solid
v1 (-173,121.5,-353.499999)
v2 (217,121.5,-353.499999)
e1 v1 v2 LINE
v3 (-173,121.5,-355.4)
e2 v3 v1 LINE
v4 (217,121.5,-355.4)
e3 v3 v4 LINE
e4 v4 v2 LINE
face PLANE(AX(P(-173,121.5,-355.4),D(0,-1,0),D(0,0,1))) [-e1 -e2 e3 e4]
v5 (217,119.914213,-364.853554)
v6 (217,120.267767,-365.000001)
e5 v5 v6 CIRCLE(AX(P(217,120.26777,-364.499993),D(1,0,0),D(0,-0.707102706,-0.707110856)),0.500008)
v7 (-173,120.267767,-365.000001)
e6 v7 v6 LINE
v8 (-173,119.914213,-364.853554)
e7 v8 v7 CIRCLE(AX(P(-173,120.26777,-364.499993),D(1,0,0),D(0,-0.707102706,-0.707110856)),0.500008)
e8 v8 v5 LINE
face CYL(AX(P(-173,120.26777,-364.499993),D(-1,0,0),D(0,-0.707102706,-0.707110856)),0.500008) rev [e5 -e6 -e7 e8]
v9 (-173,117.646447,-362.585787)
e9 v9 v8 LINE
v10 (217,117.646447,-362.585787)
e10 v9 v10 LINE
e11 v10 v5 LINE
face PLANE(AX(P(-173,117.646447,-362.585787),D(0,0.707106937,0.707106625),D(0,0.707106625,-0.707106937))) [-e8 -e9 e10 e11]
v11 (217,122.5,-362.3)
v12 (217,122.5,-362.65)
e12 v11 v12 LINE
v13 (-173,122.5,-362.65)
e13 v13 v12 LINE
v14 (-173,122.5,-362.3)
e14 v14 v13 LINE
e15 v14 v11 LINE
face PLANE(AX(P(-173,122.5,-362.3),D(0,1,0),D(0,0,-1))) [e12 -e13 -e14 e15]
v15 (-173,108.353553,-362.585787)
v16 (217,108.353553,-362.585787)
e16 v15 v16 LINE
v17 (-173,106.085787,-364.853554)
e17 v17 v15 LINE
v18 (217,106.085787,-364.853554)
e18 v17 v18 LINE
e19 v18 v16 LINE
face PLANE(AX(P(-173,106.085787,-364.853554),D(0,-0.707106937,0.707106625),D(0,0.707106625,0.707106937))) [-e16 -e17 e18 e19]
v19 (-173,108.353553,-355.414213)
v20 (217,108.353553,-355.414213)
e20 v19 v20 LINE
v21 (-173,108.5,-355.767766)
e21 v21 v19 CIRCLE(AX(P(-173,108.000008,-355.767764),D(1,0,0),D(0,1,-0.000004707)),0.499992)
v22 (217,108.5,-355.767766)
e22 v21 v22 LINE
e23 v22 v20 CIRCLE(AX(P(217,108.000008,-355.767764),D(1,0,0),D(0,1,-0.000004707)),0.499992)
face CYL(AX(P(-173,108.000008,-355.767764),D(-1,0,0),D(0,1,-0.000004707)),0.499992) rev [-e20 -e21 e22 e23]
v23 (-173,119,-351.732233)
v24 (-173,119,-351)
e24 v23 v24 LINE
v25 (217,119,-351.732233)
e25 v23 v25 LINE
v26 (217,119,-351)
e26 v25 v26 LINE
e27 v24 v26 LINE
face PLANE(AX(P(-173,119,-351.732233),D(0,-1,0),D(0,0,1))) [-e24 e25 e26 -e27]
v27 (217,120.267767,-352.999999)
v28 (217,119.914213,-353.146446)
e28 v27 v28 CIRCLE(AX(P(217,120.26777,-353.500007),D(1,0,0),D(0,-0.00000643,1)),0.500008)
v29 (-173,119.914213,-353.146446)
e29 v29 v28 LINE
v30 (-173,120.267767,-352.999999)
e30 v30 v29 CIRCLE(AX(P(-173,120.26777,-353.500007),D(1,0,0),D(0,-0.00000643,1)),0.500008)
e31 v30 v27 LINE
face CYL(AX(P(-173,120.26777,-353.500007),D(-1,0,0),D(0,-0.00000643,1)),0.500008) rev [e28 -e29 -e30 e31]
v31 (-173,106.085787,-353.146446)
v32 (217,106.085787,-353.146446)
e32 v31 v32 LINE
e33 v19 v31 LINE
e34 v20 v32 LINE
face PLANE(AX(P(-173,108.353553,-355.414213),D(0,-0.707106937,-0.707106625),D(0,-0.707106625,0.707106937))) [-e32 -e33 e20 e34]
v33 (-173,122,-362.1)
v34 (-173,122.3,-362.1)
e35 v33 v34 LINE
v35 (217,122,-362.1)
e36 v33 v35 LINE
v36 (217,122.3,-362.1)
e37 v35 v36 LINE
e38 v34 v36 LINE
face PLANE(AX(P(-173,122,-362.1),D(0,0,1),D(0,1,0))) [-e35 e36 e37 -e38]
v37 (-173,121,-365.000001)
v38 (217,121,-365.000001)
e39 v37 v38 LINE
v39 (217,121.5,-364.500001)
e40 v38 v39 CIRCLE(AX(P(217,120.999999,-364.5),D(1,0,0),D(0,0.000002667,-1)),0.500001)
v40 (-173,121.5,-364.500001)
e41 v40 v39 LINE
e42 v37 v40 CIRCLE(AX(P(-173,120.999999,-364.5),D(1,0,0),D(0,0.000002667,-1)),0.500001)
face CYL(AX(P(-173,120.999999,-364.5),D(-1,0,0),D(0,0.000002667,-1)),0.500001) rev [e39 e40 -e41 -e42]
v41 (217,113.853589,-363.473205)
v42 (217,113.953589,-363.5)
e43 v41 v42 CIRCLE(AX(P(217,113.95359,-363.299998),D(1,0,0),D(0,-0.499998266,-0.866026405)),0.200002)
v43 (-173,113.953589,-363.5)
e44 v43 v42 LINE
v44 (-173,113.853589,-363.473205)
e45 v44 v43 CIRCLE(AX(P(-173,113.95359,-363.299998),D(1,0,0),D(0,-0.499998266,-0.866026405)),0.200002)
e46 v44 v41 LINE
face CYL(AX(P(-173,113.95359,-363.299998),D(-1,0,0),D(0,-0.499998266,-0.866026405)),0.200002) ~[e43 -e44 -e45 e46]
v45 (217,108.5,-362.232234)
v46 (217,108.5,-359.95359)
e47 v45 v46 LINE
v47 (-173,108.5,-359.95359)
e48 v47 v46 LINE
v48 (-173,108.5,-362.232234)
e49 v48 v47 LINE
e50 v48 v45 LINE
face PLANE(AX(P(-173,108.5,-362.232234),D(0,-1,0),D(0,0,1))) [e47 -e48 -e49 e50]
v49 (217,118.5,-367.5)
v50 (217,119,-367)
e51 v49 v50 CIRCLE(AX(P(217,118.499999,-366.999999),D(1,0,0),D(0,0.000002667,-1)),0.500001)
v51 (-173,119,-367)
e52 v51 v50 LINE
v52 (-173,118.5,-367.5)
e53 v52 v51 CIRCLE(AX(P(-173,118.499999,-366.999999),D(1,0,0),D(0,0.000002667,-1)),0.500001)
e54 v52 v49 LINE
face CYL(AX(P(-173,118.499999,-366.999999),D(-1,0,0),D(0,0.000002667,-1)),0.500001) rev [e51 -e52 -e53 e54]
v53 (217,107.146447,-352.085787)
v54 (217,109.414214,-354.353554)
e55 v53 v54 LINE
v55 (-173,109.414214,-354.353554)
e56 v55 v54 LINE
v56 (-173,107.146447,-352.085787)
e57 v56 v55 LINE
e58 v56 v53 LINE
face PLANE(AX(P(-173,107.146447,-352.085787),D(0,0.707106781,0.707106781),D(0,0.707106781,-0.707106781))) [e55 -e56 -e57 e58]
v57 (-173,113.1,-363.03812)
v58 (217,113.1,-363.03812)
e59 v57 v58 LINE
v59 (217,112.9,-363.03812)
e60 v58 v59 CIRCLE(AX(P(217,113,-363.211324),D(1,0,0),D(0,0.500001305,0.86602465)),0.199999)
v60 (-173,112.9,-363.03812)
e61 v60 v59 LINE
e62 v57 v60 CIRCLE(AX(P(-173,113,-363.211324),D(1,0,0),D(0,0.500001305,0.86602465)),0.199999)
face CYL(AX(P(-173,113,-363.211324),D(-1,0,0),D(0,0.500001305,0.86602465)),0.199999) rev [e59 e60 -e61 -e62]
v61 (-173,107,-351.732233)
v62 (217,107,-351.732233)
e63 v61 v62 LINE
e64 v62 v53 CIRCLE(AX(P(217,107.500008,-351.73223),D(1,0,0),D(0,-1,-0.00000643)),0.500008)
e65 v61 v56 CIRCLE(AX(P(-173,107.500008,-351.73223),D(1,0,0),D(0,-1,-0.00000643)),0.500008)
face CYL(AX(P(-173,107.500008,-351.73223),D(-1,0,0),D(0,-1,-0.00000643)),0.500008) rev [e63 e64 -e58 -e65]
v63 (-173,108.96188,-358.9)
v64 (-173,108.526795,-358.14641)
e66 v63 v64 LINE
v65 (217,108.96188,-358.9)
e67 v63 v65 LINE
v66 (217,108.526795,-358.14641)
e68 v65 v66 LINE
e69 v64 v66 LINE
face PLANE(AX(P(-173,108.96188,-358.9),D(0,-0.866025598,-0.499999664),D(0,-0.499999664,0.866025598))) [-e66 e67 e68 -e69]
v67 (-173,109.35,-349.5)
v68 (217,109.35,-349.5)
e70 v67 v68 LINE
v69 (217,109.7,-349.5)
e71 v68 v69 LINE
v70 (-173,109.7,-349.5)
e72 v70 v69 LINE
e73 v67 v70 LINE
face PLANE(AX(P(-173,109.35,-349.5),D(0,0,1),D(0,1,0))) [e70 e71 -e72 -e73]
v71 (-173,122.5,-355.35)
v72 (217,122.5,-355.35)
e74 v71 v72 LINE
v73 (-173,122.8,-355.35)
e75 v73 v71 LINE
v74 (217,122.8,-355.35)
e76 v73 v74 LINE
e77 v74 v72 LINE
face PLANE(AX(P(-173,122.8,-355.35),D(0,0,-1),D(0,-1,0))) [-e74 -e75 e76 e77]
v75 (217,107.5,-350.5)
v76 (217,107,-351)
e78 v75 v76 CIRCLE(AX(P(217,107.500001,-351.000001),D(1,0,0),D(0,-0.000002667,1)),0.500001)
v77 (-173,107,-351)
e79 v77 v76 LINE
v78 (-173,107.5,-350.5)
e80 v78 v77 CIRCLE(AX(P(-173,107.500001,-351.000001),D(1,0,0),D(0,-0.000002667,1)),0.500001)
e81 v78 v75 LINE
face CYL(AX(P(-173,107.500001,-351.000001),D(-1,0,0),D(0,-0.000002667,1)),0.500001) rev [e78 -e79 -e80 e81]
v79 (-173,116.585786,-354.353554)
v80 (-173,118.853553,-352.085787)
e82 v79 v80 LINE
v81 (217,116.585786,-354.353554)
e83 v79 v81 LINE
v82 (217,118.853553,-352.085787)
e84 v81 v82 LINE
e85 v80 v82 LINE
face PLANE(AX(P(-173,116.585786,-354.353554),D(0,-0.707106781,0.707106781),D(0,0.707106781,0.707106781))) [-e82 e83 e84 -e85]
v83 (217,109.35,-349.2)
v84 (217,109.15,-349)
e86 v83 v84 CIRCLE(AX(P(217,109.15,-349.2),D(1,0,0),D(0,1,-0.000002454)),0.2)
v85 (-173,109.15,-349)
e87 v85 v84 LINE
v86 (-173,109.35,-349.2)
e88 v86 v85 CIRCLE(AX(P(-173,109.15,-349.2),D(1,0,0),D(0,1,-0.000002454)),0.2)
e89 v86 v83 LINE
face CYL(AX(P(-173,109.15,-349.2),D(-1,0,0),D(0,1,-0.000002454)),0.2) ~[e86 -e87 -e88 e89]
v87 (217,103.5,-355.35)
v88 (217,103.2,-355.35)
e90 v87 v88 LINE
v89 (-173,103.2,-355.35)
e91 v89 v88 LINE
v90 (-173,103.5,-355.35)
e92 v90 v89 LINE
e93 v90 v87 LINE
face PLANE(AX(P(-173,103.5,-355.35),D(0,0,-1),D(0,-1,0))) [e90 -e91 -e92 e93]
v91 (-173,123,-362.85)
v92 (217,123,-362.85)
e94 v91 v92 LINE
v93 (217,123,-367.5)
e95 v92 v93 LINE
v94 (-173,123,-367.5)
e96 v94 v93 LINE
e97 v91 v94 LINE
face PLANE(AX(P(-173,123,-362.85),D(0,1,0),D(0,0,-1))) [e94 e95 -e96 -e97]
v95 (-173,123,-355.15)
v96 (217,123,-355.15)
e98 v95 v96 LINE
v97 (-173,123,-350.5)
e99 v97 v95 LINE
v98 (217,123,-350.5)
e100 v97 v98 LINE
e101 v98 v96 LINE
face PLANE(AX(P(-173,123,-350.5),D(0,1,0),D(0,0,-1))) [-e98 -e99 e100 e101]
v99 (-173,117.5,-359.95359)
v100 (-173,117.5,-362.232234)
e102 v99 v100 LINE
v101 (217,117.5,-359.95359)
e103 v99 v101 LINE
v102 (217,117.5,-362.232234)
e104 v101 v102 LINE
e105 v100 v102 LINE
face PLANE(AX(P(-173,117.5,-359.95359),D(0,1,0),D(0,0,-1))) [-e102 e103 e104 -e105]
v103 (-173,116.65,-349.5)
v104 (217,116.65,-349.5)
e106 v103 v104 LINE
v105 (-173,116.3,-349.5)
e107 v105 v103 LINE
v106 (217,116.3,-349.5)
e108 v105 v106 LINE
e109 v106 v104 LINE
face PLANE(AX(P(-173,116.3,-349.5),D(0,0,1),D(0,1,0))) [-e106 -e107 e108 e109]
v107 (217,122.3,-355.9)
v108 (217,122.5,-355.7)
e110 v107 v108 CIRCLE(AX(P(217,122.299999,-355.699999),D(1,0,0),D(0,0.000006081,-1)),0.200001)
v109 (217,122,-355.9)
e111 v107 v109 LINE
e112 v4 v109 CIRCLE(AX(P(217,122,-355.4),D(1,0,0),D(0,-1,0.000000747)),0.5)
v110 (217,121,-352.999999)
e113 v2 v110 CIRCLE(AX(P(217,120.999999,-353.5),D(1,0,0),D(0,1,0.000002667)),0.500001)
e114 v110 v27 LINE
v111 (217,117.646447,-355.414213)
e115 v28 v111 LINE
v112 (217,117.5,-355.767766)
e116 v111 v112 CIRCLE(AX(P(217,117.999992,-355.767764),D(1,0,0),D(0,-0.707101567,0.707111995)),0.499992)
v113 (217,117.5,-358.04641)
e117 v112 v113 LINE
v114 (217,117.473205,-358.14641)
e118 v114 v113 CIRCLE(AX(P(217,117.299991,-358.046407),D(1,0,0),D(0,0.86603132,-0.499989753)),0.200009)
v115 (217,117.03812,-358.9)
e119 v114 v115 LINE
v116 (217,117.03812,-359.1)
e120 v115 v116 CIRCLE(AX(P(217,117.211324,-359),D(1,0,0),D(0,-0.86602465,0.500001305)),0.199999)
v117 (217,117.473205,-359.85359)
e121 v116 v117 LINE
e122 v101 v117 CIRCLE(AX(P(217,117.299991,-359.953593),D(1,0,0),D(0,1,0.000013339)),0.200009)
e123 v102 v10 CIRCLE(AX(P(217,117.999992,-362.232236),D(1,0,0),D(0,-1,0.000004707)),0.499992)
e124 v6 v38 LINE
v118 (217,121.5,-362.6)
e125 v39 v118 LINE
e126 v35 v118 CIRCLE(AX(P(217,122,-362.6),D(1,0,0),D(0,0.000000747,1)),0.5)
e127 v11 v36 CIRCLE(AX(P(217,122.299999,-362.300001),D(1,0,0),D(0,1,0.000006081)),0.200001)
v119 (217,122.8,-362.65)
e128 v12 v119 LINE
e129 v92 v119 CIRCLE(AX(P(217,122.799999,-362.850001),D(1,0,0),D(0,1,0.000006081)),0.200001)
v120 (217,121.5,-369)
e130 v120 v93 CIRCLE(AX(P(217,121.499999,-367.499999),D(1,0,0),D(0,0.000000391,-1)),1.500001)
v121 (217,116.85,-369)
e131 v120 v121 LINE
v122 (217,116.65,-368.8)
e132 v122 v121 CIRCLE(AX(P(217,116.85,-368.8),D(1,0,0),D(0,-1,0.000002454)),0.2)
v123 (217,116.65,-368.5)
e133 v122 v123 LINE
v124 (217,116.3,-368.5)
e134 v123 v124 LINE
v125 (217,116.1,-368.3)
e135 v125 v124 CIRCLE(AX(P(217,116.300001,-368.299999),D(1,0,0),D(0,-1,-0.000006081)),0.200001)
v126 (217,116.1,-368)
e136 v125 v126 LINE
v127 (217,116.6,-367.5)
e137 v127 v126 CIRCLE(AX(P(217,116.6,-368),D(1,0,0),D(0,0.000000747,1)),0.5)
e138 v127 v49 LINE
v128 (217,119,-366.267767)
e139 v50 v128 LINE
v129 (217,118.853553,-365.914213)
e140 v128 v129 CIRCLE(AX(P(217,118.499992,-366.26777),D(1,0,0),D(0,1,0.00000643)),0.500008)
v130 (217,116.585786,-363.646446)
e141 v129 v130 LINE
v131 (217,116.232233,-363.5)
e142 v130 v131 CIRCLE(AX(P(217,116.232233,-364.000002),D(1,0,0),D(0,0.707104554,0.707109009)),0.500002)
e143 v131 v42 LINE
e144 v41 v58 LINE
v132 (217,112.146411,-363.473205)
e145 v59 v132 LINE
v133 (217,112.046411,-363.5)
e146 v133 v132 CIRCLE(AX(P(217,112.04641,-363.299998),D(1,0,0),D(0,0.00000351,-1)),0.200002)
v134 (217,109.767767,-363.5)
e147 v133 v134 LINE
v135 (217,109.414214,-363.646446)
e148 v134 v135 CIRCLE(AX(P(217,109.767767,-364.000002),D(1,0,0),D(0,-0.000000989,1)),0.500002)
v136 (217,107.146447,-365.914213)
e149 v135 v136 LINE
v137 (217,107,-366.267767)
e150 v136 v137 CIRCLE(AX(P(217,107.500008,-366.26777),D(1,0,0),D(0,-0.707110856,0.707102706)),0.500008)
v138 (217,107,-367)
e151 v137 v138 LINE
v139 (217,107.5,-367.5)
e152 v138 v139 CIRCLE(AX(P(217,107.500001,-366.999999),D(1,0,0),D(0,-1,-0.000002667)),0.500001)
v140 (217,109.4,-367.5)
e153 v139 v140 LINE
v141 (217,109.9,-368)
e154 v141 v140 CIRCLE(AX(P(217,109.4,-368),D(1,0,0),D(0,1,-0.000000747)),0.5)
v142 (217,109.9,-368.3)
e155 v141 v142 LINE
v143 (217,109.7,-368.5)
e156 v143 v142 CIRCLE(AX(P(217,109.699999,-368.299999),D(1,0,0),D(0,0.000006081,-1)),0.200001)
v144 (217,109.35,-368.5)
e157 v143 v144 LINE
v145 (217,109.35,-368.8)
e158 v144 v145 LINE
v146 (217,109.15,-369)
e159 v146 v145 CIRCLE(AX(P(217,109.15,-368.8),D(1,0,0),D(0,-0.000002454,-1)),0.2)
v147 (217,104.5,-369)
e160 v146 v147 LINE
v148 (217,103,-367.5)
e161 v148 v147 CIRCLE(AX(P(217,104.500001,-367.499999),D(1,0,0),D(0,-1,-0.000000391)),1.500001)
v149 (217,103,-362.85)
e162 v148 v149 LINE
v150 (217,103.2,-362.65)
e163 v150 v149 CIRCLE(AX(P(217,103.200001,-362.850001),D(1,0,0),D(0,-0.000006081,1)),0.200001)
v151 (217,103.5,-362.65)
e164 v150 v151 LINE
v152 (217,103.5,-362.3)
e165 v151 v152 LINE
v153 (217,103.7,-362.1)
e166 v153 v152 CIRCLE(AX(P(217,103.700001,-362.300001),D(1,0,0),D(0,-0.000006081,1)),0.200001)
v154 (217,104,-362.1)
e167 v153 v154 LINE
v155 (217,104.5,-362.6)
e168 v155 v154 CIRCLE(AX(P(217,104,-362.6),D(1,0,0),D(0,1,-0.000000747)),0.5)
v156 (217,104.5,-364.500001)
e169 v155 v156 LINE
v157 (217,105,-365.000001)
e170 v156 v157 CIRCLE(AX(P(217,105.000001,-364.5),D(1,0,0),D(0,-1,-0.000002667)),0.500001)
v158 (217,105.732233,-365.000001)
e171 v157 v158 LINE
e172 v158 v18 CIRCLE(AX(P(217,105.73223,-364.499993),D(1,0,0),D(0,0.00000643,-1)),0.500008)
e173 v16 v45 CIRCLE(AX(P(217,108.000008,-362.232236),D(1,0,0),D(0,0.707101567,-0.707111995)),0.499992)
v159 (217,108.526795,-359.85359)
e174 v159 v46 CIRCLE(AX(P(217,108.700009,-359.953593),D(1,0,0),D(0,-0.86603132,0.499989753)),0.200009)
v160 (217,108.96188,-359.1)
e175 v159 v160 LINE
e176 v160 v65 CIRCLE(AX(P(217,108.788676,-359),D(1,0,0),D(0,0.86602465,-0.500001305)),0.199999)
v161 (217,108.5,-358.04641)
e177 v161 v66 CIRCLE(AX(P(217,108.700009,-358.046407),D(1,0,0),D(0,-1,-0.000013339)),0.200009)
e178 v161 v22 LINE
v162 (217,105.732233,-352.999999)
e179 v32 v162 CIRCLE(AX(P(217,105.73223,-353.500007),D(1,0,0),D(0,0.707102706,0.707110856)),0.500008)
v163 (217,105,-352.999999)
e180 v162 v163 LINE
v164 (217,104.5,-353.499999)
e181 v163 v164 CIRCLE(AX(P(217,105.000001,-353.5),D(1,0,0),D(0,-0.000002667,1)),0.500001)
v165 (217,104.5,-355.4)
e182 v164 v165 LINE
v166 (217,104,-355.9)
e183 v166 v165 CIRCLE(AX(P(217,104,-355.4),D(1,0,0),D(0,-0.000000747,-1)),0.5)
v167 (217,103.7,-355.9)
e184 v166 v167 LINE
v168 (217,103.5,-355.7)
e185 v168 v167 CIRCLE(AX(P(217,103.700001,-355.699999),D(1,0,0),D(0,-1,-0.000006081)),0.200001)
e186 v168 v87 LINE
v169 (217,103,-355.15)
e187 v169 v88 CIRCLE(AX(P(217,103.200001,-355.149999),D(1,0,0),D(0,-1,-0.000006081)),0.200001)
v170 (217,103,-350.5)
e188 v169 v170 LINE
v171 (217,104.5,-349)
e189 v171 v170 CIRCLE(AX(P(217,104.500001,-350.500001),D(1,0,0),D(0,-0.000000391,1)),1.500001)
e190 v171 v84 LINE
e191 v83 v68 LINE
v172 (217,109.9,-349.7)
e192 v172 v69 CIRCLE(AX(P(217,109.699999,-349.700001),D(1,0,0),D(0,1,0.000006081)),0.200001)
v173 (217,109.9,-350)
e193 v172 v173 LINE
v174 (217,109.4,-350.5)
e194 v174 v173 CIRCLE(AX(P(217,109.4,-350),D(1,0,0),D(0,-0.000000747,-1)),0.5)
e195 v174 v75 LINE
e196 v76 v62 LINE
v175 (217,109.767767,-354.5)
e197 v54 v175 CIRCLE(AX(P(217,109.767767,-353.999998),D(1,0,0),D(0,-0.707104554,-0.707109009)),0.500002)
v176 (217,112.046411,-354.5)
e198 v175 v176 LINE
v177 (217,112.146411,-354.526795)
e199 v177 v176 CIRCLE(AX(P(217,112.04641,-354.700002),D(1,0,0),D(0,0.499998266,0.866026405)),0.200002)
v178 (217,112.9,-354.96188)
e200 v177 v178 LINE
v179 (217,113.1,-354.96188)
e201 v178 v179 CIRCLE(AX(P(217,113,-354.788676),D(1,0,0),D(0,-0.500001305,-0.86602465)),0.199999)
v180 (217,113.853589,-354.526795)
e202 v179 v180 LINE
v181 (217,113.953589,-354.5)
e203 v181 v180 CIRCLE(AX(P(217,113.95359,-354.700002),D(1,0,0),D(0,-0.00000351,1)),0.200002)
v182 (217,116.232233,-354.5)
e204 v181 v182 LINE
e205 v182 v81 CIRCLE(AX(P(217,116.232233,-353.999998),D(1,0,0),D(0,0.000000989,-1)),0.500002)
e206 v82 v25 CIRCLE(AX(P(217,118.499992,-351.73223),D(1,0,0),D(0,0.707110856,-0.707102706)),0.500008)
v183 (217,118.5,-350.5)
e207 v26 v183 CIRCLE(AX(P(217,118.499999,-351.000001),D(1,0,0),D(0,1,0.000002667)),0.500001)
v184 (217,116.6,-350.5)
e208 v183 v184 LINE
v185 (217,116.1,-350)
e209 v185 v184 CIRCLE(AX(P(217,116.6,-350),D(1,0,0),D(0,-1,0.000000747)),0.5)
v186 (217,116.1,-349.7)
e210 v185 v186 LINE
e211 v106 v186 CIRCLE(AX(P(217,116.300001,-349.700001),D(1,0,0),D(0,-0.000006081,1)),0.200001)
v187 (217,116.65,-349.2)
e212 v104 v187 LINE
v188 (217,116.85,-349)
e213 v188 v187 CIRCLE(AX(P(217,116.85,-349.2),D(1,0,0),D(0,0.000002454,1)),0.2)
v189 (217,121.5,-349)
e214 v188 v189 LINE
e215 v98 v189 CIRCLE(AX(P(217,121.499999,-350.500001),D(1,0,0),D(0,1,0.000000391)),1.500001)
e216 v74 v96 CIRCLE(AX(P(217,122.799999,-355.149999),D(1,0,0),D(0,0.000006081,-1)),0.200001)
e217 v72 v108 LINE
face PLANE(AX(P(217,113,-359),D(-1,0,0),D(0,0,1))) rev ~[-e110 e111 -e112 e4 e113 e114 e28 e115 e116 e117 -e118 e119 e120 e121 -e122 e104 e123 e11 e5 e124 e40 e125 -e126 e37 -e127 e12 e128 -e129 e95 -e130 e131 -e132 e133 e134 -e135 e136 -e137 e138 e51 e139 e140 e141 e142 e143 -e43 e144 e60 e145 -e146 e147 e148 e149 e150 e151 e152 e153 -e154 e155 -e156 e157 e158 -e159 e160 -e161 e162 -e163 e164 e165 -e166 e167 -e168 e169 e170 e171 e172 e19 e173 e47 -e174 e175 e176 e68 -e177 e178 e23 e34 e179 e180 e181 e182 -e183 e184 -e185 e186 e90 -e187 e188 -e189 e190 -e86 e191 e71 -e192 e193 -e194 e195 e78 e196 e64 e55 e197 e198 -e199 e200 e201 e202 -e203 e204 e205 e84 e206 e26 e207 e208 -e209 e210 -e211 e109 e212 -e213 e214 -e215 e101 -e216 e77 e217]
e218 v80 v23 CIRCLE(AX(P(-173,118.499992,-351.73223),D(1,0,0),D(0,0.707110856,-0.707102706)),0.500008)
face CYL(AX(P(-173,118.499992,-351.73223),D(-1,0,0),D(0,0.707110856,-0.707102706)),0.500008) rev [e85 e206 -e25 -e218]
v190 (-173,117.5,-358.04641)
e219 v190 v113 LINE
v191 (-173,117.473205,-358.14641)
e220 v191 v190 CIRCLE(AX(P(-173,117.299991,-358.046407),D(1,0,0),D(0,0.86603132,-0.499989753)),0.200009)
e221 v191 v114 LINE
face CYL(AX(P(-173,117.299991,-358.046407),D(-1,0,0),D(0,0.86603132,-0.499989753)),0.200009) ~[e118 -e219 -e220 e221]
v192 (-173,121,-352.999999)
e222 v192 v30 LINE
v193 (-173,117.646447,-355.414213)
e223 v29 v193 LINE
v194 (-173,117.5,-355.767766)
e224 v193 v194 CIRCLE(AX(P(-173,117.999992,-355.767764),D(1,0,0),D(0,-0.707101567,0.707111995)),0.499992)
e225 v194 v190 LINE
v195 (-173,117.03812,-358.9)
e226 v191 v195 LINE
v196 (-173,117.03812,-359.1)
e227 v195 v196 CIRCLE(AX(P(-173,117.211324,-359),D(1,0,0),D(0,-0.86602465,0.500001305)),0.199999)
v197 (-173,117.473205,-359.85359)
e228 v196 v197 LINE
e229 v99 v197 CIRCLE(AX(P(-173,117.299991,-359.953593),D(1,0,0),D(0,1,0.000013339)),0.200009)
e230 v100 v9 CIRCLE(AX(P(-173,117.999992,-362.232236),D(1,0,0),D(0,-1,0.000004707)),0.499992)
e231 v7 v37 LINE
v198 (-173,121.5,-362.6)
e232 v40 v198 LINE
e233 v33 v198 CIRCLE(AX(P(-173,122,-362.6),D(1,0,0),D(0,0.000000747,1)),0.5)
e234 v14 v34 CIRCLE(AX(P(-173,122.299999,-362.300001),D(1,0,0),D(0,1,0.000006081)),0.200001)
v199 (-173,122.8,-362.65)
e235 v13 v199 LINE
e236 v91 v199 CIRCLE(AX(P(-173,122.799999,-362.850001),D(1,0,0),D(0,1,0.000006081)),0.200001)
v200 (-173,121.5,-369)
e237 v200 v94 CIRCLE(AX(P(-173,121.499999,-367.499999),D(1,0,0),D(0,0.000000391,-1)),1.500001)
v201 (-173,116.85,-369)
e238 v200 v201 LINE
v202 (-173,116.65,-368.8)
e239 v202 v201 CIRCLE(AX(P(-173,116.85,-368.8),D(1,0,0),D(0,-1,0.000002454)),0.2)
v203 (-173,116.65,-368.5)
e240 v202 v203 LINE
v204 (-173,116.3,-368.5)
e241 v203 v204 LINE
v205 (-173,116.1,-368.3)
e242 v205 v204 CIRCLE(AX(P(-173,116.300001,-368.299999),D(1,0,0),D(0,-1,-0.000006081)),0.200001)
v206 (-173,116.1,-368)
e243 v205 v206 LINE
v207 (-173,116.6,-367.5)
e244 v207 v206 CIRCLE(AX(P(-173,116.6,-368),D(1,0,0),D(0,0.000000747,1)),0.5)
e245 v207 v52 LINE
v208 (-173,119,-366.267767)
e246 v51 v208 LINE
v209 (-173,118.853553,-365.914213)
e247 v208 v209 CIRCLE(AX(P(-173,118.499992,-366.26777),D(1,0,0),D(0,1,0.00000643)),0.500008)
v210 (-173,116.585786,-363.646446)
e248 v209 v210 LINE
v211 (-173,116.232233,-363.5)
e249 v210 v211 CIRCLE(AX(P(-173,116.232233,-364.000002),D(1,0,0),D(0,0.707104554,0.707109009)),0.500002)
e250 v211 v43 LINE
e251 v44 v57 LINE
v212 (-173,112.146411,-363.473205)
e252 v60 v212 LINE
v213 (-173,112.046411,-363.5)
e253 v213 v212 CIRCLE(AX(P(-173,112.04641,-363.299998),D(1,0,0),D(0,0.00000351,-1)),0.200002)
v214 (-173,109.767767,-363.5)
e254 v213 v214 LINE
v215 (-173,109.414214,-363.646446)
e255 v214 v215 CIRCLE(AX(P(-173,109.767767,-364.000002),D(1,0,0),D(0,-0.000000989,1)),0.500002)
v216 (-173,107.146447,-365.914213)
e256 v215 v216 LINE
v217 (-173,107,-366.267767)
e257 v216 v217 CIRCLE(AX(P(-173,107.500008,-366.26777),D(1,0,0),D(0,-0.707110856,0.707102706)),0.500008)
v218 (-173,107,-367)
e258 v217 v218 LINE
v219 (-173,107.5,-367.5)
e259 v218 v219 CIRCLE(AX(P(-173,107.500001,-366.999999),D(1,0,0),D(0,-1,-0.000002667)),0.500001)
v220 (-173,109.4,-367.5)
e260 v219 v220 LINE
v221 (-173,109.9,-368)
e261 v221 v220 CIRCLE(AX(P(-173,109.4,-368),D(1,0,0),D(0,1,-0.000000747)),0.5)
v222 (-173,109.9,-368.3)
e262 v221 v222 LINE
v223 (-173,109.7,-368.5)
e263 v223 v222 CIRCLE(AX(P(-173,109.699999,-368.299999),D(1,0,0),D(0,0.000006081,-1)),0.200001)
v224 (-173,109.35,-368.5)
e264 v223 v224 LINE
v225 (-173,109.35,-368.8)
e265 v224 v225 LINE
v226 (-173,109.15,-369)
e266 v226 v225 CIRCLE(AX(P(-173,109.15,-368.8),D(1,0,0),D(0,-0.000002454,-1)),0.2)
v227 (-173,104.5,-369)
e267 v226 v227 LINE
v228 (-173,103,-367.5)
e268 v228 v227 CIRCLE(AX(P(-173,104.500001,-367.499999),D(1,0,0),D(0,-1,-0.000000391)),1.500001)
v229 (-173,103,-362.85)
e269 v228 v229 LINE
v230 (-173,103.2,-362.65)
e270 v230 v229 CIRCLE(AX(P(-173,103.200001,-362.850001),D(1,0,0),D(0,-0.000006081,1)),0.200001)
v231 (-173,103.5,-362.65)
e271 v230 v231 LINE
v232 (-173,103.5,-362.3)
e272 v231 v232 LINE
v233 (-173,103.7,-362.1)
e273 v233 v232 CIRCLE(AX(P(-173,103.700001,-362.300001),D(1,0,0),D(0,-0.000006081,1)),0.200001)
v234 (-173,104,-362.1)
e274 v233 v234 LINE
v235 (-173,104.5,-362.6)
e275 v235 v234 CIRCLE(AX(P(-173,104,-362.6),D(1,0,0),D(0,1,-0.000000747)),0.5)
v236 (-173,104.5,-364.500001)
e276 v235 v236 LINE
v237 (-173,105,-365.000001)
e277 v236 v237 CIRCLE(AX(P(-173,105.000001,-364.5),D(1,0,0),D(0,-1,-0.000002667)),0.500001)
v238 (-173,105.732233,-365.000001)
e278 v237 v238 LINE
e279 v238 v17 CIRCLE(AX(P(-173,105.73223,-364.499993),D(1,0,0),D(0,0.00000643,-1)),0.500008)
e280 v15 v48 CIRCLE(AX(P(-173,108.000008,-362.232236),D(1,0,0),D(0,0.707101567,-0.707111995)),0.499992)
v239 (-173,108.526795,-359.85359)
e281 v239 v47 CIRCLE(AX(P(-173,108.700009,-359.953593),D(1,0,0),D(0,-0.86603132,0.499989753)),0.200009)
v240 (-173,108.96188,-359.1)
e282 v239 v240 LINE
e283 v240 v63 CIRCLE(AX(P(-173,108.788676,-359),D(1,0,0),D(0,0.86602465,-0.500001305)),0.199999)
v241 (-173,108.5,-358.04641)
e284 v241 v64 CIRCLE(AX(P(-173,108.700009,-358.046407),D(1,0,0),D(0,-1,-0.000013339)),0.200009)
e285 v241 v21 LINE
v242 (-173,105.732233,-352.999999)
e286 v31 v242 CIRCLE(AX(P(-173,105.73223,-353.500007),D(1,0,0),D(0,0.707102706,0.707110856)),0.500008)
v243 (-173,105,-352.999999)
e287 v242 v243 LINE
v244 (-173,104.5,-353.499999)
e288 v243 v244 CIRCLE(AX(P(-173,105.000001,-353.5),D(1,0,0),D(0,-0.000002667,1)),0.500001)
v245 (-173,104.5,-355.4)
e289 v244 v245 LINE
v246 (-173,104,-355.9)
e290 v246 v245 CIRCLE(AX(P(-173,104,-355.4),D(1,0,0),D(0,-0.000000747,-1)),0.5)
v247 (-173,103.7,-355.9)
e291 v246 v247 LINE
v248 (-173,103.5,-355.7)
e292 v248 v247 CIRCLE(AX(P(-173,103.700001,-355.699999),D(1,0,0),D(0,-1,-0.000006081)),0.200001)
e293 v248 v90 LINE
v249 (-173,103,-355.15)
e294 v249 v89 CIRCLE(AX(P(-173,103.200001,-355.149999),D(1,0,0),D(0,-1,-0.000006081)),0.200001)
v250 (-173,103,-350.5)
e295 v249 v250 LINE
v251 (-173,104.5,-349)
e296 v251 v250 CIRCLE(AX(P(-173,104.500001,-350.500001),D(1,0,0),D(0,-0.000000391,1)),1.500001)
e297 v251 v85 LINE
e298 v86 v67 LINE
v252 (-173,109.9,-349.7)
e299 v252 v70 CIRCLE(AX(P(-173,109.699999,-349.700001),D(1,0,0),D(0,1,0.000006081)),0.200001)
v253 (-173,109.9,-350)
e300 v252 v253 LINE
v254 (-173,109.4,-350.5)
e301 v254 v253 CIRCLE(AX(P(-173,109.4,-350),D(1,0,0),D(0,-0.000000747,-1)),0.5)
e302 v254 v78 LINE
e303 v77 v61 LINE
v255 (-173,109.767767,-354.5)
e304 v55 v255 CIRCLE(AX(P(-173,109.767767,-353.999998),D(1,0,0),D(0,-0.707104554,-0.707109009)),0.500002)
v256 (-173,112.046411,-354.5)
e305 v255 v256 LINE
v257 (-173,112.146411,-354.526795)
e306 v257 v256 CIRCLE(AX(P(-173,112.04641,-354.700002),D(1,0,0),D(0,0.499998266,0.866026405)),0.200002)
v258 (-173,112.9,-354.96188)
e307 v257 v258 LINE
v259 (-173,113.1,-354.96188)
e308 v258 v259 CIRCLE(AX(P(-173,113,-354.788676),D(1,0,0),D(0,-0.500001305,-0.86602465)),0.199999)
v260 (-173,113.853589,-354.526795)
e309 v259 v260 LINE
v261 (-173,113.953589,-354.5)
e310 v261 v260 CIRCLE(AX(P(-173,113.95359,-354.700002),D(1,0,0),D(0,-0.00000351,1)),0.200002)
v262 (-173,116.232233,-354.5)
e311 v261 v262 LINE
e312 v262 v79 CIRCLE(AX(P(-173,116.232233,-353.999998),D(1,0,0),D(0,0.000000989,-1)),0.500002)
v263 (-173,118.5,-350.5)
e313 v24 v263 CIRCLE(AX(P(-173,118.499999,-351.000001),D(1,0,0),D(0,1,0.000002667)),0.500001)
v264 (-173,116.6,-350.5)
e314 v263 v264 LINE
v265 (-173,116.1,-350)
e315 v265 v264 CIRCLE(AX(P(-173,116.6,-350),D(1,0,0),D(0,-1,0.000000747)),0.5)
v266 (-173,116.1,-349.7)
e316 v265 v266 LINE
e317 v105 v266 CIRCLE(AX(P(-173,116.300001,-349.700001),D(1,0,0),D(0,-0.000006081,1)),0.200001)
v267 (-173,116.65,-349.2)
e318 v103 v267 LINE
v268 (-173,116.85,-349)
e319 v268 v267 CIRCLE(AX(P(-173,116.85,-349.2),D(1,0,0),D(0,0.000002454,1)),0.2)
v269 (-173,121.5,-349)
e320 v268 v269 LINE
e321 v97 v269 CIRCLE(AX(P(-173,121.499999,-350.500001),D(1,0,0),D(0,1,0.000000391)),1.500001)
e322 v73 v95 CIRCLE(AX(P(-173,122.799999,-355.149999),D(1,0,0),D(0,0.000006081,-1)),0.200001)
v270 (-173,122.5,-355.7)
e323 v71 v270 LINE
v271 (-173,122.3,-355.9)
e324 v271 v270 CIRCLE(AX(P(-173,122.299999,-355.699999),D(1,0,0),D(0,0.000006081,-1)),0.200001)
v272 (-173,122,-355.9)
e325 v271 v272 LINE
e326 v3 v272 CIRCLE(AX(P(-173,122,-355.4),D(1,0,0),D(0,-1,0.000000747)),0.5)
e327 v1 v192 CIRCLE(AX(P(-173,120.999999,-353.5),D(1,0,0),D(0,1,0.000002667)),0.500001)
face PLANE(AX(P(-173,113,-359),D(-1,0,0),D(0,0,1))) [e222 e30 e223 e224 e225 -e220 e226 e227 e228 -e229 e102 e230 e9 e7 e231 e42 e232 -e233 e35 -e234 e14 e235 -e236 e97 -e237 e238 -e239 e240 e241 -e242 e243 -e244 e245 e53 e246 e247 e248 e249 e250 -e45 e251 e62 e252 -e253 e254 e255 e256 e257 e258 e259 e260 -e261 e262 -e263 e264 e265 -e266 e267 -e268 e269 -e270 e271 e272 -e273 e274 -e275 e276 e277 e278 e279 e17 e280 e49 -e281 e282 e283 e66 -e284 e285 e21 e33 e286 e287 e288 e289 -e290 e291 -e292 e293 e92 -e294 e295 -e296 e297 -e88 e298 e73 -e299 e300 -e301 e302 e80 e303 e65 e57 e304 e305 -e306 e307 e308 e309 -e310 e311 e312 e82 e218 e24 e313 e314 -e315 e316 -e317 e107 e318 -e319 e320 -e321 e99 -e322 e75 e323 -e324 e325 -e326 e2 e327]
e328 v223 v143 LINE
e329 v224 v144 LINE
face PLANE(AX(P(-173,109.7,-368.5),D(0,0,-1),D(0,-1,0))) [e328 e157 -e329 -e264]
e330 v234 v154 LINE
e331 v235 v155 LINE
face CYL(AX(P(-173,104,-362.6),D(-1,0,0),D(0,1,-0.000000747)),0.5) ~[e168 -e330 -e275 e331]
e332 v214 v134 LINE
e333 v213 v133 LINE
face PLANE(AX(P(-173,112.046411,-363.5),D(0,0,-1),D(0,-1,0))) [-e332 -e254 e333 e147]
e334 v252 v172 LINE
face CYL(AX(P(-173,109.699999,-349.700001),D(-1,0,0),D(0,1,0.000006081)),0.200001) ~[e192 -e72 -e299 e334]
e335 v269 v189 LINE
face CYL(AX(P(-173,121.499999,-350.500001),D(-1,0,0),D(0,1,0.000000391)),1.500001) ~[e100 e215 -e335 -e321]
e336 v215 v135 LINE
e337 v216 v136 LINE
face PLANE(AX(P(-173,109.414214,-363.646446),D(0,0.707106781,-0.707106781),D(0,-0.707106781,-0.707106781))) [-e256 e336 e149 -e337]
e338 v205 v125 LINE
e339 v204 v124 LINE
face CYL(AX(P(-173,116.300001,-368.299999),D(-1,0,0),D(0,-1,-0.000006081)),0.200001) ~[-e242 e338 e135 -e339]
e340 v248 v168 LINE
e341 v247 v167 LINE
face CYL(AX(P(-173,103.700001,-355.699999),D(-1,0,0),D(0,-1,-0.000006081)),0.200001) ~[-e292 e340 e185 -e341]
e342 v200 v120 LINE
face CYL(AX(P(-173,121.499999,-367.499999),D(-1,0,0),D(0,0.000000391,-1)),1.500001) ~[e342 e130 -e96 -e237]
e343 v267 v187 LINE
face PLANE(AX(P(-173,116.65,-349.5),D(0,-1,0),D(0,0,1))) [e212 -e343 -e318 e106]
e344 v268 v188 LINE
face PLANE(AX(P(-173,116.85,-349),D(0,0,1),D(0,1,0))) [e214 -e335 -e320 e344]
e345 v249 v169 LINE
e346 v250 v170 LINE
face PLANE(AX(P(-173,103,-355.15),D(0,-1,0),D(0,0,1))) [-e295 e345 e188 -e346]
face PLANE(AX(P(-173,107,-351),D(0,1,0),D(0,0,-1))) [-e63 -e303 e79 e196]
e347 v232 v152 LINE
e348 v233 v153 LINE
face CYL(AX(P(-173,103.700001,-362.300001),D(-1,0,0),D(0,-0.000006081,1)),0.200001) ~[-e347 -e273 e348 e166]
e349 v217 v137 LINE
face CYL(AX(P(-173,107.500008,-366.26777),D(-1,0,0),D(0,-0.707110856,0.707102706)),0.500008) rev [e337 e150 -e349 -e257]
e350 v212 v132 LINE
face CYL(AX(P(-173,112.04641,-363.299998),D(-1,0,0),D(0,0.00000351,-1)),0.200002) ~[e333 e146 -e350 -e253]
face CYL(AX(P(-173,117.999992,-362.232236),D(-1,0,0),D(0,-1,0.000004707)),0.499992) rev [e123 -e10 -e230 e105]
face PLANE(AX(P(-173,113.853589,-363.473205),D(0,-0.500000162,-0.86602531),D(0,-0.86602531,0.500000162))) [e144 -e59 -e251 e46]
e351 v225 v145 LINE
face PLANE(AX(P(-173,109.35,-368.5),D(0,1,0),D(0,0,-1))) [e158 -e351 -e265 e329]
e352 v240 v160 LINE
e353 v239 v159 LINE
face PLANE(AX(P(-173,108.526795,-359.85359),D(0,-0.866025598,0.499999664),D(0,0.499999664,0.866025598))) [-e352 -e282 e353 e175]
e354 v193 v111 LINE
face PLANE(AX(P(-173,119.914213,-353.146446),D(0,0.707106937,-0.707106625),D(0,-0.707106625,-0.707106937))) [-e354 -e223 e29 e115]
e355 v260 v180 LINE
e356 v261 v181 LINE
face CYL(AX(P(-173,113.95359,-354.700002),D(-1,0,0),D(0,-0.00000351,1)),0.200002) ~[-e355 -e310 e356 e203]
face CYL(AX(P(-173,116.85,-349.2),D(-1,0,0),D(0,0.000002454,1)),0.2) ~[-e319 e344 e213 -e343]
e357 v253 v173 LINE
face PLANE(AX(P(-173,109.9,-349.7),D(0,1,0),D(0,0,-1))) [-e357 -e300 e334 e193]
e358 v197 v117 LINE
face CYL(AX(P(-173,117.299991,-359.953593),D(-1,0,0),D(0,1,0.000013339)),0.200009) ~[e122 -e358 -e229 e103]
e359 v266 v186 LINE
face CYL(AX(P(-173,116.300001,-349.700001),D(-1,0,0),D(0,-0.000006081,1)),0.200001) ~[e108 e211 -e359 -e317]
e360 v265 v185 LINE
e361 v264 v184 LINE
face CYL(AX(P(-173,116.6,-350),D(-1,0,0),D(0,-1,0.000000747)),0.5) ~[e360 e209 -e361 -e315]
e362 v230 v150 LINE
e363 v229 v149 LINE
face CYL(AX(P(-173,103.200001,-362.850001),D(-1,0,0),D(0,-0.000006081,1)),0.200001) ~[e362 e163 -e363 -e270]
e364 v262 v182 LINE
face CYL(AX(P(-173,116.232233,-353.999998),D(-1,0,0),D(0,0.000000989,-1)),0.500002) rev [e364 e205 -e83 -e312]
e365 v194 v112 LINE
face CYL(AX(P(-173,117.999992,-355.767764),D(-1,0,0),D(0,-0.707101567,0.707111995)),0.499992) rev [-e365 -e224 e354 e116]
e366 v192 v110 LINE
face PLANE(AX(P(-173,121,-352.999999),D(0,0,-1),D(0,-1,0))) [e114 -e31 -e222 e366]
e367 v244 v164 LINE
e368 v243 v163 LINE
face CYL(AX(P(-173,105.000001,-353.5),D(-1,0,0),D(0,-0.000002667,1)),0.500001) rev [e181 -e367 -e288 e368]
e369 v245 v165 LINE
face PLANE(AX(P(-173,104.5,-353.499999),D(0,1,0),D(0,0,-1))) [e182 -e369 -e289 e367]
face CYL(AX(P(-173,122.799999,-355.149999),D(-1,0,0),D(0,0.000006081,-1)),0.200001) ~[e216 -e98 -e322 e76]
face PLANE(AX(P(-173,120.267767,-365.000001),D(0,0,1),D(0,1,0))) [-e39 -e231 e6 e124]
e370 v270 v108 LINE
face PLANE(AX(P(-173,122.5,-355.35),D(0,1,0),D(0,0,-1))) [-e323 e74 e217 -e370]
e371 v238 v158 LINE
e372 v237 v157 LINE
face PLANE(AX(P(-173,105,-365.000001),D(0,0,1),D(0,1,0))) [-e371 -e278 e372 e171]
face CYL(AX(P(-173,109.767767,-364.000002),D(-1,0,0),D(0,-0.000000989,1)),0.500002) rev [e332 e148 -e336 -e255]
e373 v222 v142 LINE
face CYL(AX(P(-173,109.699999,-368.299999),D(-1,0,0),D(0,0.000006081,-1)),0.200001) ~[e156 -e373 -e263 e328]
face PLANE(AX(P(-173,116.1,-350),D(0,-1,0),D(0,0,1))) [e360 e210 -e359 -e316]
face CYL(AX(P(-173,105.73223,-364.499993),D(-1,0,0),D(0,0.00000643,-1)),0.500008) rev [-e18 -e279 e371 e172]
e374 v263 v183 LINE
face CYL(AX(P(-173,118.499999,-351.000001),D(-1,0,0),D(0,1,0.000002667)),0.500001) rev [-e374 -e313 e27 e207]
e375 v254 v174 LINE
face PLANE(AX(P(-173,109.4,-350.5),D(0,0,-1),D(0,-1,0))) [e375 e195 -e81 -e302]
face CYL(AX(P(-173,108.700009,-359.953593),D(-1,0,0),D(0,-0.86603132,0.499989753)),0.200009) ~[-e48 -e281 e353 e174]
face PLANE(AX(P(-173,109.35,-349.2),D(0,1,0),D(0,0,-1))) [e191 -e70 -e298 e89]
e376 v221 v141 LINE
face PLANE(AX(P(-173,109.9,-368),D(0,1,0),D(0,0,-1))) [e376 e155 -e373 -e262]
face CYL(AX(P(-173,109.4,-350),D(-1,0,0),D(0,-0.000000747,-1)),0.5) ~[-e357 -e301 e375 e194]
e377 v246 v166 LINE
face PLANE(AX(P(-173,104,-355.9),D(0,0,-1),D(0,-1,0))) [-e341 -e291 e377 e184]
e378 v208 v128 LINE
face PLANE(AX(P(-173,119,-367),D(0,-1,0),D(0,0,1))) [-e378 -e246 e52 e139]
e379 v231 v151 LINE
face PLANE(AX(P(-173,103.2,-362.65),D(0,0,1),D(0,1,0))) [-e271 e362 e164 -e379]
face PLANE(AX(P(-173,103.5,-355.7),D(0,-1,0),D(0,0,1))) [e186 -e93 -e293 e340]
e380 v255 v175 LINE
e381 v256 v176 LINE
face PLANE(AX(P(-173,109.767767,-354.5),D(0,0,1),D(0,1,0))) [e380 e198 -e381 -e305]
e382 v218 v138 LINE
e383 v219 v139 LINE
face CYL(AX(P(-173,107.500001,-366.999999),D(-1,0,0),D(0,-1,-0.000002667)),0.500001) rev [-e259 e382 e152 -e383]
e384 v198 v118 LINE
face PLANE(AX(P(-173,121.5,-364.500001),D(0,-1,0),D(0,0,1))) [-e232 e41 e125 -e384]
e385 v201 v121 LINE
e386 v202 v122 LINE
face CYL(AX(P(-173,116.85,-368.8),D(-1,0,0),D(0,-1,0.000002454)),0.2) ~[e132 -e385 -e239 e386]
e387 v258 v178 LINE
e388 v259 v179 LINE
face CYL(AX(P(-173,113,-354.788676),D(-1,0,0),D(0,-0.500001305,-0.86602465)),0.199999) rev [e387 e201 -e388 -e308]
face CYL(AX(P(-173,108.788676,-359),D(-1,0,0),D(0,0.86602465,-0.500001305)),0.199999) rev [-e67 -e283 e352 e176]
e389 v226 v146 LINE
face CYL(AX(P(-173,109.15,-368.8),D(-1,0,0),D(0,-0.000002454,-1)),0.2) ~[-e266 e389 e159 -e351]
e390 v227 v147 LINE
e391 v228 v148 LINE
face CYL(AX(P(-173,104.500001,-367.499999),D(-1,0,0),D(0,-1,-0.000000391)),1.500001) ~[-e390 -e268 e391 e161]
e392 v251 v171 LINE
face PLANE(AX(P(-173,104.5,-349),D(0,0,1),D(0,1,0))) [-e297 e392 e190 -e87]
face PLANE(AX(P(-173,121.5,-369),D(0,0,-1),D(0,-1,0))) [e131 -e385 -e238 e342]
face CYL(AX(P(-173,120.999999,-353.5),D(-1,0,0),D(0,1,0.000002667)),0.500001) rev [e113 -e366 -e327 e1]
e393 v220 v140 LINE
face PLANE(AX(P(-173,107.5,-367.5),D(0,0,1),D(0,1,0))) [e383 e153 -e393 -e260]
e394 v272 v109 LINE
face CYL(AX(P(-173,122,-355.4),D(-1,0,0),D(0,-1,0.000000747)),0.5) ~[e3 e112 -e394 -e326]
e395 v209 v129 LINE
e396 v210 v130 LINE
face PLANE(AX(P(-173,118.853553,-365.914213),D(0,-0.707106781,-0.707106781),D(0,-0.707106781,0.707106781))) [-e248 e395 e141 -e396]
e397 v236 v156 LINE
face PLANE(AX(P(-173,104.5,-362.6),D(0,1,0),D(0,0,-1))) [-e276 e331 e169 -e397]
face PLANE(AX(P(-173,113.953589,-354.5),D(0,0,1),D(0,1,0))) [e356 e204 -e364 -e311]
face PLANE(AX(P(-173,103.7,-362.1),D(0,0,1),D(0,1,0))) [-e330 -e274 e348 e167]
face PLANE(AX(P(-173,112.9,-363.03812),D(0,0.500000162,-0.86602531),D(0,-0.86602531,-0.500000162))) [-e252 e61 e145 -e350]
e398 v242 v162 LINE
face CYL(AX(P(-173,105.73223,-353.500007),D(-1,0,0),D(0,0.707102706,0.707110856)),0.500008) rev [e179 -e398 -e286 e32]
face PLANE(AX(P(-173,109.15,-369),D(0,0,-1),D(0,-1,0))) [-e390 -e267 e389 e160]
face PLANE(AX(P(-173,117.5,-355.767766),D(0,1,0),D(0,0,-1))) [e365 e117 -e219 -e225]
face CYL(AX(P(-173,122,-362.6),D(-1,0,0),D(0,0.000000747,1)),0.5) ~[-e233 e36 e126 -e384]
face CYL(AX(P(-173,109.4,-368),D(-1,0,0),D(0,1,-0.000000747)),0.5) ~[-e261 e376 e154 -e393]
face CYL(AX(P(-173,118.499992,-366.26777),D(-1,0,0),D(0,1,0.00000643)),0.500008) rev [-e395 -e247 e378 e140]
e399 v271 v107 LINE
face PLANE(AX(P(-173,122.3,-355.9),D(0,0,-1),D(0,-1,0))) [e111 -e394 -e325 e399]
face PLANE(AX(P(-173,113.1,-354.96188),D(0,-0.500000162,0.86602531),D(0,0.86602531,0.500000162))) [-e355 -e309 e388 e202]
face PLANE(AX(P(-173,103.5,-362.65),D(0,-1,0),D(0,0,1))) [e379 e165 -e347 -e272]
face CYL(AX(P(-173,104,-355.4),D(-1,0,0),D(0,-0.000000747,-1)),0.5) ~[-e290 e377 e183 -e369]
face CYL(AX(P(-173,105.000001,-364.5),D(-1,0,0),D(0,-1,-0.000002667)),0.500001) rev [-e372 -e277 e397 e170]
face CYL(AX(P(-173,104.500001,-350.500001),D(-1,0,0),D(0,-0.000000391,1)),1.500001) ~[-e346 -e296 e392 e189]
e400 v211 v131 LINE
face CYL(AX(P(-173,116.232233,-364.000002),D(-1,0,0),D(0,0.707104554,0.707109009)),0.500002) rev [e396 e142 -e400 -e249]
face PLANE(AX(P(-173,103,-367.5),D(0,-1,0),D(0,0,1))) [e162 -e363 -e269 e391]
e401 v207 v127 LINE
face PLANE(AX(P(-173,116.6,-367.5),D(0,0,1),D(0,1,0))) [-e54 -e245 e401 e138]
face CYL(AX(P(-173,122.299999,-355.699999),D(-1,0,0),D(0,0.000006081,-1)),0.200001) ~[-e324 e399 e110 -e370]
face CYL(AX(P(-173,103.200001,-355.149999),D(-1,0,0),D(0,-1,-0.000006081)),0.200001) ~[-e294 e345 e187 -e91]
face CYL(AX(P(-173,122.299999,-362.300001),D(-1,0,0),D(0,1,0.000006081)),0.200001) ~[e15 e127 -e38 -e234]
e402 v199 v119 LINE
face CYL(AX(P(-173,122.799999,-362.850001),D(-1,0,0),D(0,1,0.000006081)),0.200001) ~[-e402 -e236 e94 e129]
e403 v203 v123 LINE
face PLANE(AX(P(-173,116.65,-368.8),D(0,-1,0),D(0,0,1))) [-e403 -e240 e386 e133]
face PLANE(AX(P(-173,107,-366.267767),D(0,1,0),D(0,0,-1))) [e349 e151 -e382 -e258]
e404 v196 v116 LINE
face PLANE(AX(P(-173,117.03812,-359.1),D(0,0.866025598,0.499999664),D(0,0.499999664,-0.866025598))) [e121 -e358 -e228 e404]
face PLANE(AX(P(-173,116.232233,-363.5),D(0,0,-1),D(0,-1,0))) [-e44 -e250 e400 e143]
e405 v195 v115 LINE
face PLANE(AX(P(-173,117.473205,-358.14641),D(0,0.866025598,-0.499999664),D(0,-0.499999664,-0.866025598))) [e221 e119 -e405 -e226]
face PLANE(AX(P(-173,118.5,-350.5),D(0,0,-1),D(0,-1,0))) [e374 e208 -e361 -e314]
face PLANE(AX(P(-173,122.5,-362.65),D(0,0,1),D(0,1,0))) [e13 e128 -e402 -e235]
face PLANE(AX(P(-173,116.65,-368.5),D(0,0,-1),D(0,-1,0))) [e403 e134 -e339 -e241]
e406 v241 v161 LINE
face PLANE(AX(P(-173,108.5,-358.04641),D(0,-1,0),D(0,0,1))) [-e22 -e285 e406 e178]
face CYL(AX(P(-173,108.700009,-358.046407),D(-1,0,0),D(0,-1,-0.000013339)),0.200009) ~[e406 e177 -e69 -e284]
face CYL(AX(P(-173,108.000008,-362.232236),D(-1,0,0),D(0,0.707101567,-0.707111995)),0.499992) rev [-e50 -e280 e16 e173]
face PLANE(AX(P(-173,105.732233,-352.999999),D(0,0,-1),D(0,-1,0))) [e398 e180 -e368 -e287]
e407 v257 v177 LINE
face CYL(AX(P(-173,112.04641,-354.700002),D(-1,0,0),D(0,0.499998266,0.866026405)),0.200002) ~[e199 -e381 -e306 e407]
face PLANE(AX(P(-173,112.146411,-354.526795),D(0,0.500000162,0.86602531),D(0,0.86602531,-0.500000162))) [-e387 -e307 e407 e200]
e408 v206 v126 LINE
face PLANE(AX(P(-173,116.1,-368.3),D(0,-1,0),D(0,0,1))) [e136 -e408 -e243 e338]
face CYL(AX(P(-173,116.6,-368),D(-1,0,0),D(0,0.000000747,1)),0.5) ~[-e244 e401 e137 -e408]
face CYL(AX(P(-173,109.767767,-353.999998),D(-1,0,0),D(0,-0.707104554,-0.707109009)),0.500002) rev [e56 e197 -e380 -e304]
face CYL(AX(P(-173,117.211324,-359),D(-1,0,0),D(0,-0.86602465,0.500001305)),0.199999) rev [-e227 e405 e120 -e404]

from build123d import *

# Parameters (mm, degrees)
PAD019_DEPTH          = 390
POCKET031_DEPTH       = 390.001
FUSION040_PITCH_ANGLE = 90


with BuildPart() as pad019:
    # Sketch052 → Pad019 (new body)
    with BuildSketch(Plane(origin=(1.5, 0, 0), x_dir=(1, 0, 0), z_dir=(0, 0, 1))):
        with BuildLine():
            Line((0, 20), (4.65, 20))
            ThreePointArc((4.85, 19.8), (4.791421, 19.941421), (4.65, 20))
            Line((4.85, 19.8), (4.85, 19.5))
            Line((4.85, 19.5), (5.2, 19.5))
            ThreePointArc((5.4, 19.3), (5.341421, 19.441421), (5.2, 19.5))
            Line((5.4, 19.3), (5.4, 19))
            ThreePointArc((4.9, 18.5), (5.253553, 18.646446), (5.4, 19))
            Line((4.9, 18.5), (2.999999, 18.5))
            ThreePointArc((2.999999, 18.5), (2.646446, 18.353553), (2.499999, 18))
            Line((2.499999, 18), (2.499999, 17.267767))
            ThreePointArc((2.499999, 17.267767), (2.53806, 17.076425), (2.646446, 16.914213))
            Line((2.646446, 16.914213), (4.914213, 14.646447))
            ThreePointArc((4.914213, 14.646447), (5.076424, 14.53806), (5.267766, 14.5))
            Line((5.267766, 14.5), (7.54641, 14.5))
            ThreePointArc((7.64641, 14.473205), (7.598173, 14.493185), (7.54641, 14.5))
            Line((7.64641, 14.473205), (8.4, 14.03812))
            ThreePointArc((8.4, 14.03812), (8.5, 14.011325), (8.6, 14.03812))
            Line((8.6, 14.03812), (9.35359, 14.473205))
            ThreePointArc((9.45359, 14.5), (9.401827, 14.493185), (9.35359, 14.473205))
            Line((9.45359, 14.5), (11.732234, 14.5))
            ThreePointArc((11.732234, 14.5), (11.923576, 14.53806), (12.085787, 14.646447))
            Line((12.085787, 14.646447), (14.353554, 16.914213))
            ThreePointArc((14.353554, 16.914213), (14.46194, 17.076425), (14.500001, 17.267767))
            Line((14.500001, 17.267767), (14.500001, 18))
            ThreePointArc((14.500001, 18), (14.353554, 18.353553), (14.000001, 18.5))
            Line((14.000001, 18.5), (12.1, 18.5))
            ThreePointArc((11.6, 19), (11.746447, 18.646446), (12.1, 18.5))
            Line((11.6, 19), (11.6, 19.3))
            ThreePointArc((11.8, 19.5), (11.658579, 19.441421), (11.6, 19.3))
            Line((11.8, 19.5), (12.15, 19.5))
            Line((12.15, 19.5), (12.15, 19.8))
            ThreePointArc((12.35, 20), (12.208579, 19.941421), (12.15, 19.8))
            Line((12.35, 20), (17, 20))
            ThreePointArc((18.5, 18.5), (18.06066, 19.56066), (17, 20))
            Line((18.5, 18.5), (18.5, 13.85))
            ThreePointArc((18.3, 13.65), (18.441421, 13.708578), (18.5, 13.85))
            Line((18.3, 13.65), (18, 13.65))
            Line((18, 13.65), (18, 13.3))
            ThreePointArc((17.8, 13.1), (17.941421, 13.158579), (18, 13.3))
            Line((17.8, 13.1), (17.5, 13.1))
            ThreePointArc((17, 13.6), (17.146446, 13.246447), (17.5, 13.1))
            Line((17, 13.6), (17, 15.5))
            ThreePointArc((17, 15.5), (16.853553, 15.853553), (16.5, 16))
            Line((16.5, 16), (15.767767, 16))
            ThreePointArc((15.767767, 16), (15.576425, 15.961939), (15.414213, 15.853553))
            Line((15.414213, 15.853553), (13.146446, 13.585786))
            ThreePointArc((13.146446, 13.585786), (13.03806, 13.423574), (13, 13.232233))
            Line((13, 13.232233), (13, 10.953589))
            ThreePointArc((12.973205, 10.853589), (12.993185, 10.901825), (13, 10.953589))
            Line((12.973205, 10.853589), (12.53812, 10.1))
            ThreePointArc((12.53812, 10.1), (12.511325, 10), (12.53812, 9.9))
            Line((12.53812, 9.9), (12.973205, 9.146411))
            ThreePointArc((13, 9.046411), (12.993185, 9.098175), (12.973205, 9.146411))
            Line((13, 9.046411), (13, 6.767767))
            ThreePointArc((13, 6.767767), (13.03806, 6.576426), (13.146446, 6.414214))
            Line((13.146446, 6.414214), (15.414213, 4.146447))
            ThreePointArc((15.414213, 4.146447), (15.576425, 4.038061), (15.767767, 4))
            Line((15.767767, 4), (16.5, 4))
            ThreePointArc((16.5, 4), (16.853553, 4.146447), (17, 4.5))
            Line((17, 4.5), (17, 6.4))
            ThreePointArc((17.5, 6.9), (17.146446, 6.753553), (17, 6.4))
            Line((17.5, 6.9), (17.8, 6.9))
            ThreePointArc((18, 6.7), (17.941421, 6.841421), (17.8, 6.9))
            Line((18, 6.7), (18, 6.35))
            Line((18, 6.35), (18.3, 6.35))
            ThreePointArc((18.5, 6.15), (18.441421, 6.291422), (18.3, 6.35))
            Line((18.5, 6.15), (18.5, 1.5))
            ThreePointArc((17, 0), (18.06066, 0.43934), (18.5, 1.5))
            Line((17, 0), (12.35, 0))
            ThreePointArc((12.15, 0.2), (12.208579, 0.058579), (12.35, 0))
            Line((12.15, 0.2), (12.15, 0.5))
            Line((12.15, 0.5), (11.8, 0.5))
            ThreePointArc((11.6, 0.7), (11.658579, 0.558579), (11.8, 0.5))
            Line((11.6, 0.7), (11.6, 1))
            ThreePointArc((12.1, 1.5), (11.746447, 1.353554), (11.6, 1))
            Line((12.1, 1.5), (14.000001, 1.5))
            ThreePointArc((14.000001, 1.5), (14.353554, 1.646447), (14.500001, 2))
            Line((14.500001, 2), (14.500001, 2.732233))
            ThreePointArc((14.500001, 2.732233), (14.46194, 2.923575), (14.353554, 3.085787))
            Line((14.353554, 3.085787), (12.085787, 5.353553))
            ThreePointArc((12.085787, 5.353553), (11.923576, 5.46194), (11.732234, 5.5))
            Line((11.732234, 5.5), (9.45359, 5.5))
            ThreePointArc((9.35359, 5.526795), (9.401827, 5.506815), (9.45359, 5.5))
            Line((9.35359, 5.526795), (8.6, 5.96188))
            ThreePointArc((8.6, 5.96188), (8.5, 5.988675), (8.4, 5.96188))
            Line((8.4, 5.96188), (7.64641, 5.526795))
            ThreePointArc((7.54641, 5.5), (7.598173, 5.506815), (7.64641, 5.526795))
            Line((7.54641, 5.5), (5.267766, 5.5))
            ThreePointArc((5.267766, 5.5), (5.076424, 5.46194), (4.914213, 5.353553))
            Line((4.914213, 5.353553), (2.646446, 3.085787))
            ThreePointArc((2.646446, 3.085787), (2.53806, 2.923575), (2.499999, 2.732233))
            Line((2.499999, 2.732233), (2.499999, 2))
            ThreePointArc((2.499999, 2), (2.646446, 1.646447), (2.999999, 1.5))
            Line((2.999999, 1.5), (4.9, 1.5))
            ThreePointArc((5.4, 1), (5.253553, 1.353554), (4.9, 1.5))
            Line((5.4, 1), (5.4, 0.7))
            ThreePointArc((5.2, 0.5), (5.341421, 0.558579), (5.4, 0.7))
            Line((5.2, 0.5), (4.85, 0.5))
            Line((4.85, 0.5), (4.85, 0.2))
            ThreePointArc((4.65, 0), (4.791421, 0.058579), (4.85, 0.2))
            Line((4.65, 0), (0, 0))
            ThreePointArc((-1.5, 1.5), (-1.06066, 0.43934), (0, 0))
            Line((-1.5, 1.5), (-1.5, 6.15))
            ThreePointArc((-1.3, 6.35), (-1.441421, 6.291422), (-1.5, 6.15))
            Line((-1.3, 6.35), (-1, 6.35))
            Line((-1, 6.35), (-1, 6.7))
            ThreePointArc((-0.8, 6.9), (-0.941421, 6.841421), (-1, 6.7))
            Line((-0.8, 6.9), (-0.5, 6.9))
            ThreePointArc((0, 6.4), (-0.146446, 6.753553), (-0.5, 6.9))
            Line((0, 6.4), (0, 4.5))
            ThreePointArc((0, 4.5), (0.146447, 4.146447), (0.5, 4))
            Line((0.5, 4), (1.232233, 4))
            ThreePointArc((1.232233, 4), (1.423575, 4.038061), (1.585787, 4.146447))
            Line((1.585787, 4.146447), (3.853554, 6.414214))
            ThreePointArc((3.853554, 6.414214), (3.96194, 6.576426), (4, 6.767767))
            Line((4, 6.767767), (4, 9.046411))
            ThreePointArc((4.026795, 9.146411), (4.006815, 9.098175), (4, 9.046411))
            Line((4.026795, 9.146411), (4.46188, 9.9))
            ThreePointArc((4.46188, 9.9), (4.488675, 10), (4.46188, 10.1))
            Line((4.46188, 10.1), (4.026795, 10.853589))
            ThreePointArc((4, 10.953589), (4.006815, 10.901825), (4.026795, 10.853589))
            Line((4, 10.953589), (4, 13.232233))
            ThreePointArc((4, 13.232233), (3.96194, 13.423574), (3.853554, 13.585786))
            Line((3.853554, 13.585786), (1.585787, 15.853553))
            ThreePointArc((1.585787, 15.853553), (1.423575, 15.961939), (1.232233, 16))
            Line((1.232233, 16), (0.5, 16))
            ThreePointArc((0.5, 16), (0.146447, 15.853553), (0, 15.5))
            Line((0, 15.5), (0, 13.6))
            ThreePointArc((-0.5, 13.1), (-0.146446, 13.246447), (0, 13.6))
            Line((-0.5, 13.1), (-0.8, 13.1))
            ThreePointArc((-1, 13.3), (-0.941421, 13.158579), (-0.8, 13.1))
            Line((-1, 13.3), (-1, 13.65))
            Line((-1, 13.65), (-1.3, 13.65))
            ThreePointArc((-1.5, 13.85), (-1.441421, 13.708578), (-1.3, 13.65))
            Line((-1.5, 13.85), (-1.5, 18.5))
            ThreePointArc((0, 20), (-1.06066, 19.56066), (-1.5, 18.5))
        make_face()
    extrude(amount=PAD019_DEPTH)


with BuildPart() as pocket031:
    # Pocket031 base: copy of Pad019
    add(pad019.part)

    # Sketch053 → Pocket031 (cut, through all)
    with BuildSketch(Plane(origin=(1.5, 0, 390), x_dir=(1, 0, 0), z_dir=(0, 0, 1))):
        with BuildLine():
            ThreePointArc((6.586105, 12.989641), (5.988263, 12.50841), (5.507825, 11.909931))
            Line((6.054705, 11.258185), (5.507825, 11.909931))
            ThreePointArc((6.054705, 11.258185), (5.75, 10), (6.054705, 8.741815))
            Line((5.507825, 8.090069), (6.054705, 8.741815))
            ThreePointArc((5.507825, 8.090069), (5.988263, 7.49159), (6.586105, 7.010359))
            Line((7.241815, 7.554705), (6.586105, 7.010359))
            ThreePointArc((7.241815, 7.554705), (8.5, 7.25), (9.758185, 7.554705))
            Line((10.413895, 7.010359), (9.758185, 7.554705))
            ThreePointArc((10.413895, 7.010359), (11.011737, 7.49159), (11.492175, 8.090069))
            Line((10.945295, 8.741815), (11.492175, 8.090069))
            ThreePointArc((10.945295, 8.741815), (11.25, 10), (10.945295, 11.258185))
            Line((11.492175, 11.909931), (10.945295, 11.258185))
            ThreePointArc((11.492175, 11.909931), (11.011737, 12.50841), (10.413895, 12.989641))
            Line((9.758185, 12.445295), (10.413895, 12.989641))
            ThreePointArc((9.758185, 12.445295), (8.5, 12.75), (7.241815, 12.445295))
            Line((6.586105, 12.989641), (7.241815, 12.445295))
        make_face()
    extrude(amount=-POCKET031_DEPTH, mode=Mode.SUBTRACT)


with BuildPart() as fusion040:
    # Fusion040 base: copy of Pad019
    add(pad019.part)

    # Fusion040: union Pocket031
    add(pocket031.part)


with BuildPart() as fusion040_1:
    # Fusion040 pitch: moved
    add(fusion040.part.rotate(Axis((0, 0, 0), (0, 1, 0)), FUSION040_PITCH_ANGLE))


with BuildPart() as fusion040_2:
    # Fusion040 placement: moved
    add(fusion040_1.part.moved(Location((-173, 103, -349))))


solid = fusion040_2.part
